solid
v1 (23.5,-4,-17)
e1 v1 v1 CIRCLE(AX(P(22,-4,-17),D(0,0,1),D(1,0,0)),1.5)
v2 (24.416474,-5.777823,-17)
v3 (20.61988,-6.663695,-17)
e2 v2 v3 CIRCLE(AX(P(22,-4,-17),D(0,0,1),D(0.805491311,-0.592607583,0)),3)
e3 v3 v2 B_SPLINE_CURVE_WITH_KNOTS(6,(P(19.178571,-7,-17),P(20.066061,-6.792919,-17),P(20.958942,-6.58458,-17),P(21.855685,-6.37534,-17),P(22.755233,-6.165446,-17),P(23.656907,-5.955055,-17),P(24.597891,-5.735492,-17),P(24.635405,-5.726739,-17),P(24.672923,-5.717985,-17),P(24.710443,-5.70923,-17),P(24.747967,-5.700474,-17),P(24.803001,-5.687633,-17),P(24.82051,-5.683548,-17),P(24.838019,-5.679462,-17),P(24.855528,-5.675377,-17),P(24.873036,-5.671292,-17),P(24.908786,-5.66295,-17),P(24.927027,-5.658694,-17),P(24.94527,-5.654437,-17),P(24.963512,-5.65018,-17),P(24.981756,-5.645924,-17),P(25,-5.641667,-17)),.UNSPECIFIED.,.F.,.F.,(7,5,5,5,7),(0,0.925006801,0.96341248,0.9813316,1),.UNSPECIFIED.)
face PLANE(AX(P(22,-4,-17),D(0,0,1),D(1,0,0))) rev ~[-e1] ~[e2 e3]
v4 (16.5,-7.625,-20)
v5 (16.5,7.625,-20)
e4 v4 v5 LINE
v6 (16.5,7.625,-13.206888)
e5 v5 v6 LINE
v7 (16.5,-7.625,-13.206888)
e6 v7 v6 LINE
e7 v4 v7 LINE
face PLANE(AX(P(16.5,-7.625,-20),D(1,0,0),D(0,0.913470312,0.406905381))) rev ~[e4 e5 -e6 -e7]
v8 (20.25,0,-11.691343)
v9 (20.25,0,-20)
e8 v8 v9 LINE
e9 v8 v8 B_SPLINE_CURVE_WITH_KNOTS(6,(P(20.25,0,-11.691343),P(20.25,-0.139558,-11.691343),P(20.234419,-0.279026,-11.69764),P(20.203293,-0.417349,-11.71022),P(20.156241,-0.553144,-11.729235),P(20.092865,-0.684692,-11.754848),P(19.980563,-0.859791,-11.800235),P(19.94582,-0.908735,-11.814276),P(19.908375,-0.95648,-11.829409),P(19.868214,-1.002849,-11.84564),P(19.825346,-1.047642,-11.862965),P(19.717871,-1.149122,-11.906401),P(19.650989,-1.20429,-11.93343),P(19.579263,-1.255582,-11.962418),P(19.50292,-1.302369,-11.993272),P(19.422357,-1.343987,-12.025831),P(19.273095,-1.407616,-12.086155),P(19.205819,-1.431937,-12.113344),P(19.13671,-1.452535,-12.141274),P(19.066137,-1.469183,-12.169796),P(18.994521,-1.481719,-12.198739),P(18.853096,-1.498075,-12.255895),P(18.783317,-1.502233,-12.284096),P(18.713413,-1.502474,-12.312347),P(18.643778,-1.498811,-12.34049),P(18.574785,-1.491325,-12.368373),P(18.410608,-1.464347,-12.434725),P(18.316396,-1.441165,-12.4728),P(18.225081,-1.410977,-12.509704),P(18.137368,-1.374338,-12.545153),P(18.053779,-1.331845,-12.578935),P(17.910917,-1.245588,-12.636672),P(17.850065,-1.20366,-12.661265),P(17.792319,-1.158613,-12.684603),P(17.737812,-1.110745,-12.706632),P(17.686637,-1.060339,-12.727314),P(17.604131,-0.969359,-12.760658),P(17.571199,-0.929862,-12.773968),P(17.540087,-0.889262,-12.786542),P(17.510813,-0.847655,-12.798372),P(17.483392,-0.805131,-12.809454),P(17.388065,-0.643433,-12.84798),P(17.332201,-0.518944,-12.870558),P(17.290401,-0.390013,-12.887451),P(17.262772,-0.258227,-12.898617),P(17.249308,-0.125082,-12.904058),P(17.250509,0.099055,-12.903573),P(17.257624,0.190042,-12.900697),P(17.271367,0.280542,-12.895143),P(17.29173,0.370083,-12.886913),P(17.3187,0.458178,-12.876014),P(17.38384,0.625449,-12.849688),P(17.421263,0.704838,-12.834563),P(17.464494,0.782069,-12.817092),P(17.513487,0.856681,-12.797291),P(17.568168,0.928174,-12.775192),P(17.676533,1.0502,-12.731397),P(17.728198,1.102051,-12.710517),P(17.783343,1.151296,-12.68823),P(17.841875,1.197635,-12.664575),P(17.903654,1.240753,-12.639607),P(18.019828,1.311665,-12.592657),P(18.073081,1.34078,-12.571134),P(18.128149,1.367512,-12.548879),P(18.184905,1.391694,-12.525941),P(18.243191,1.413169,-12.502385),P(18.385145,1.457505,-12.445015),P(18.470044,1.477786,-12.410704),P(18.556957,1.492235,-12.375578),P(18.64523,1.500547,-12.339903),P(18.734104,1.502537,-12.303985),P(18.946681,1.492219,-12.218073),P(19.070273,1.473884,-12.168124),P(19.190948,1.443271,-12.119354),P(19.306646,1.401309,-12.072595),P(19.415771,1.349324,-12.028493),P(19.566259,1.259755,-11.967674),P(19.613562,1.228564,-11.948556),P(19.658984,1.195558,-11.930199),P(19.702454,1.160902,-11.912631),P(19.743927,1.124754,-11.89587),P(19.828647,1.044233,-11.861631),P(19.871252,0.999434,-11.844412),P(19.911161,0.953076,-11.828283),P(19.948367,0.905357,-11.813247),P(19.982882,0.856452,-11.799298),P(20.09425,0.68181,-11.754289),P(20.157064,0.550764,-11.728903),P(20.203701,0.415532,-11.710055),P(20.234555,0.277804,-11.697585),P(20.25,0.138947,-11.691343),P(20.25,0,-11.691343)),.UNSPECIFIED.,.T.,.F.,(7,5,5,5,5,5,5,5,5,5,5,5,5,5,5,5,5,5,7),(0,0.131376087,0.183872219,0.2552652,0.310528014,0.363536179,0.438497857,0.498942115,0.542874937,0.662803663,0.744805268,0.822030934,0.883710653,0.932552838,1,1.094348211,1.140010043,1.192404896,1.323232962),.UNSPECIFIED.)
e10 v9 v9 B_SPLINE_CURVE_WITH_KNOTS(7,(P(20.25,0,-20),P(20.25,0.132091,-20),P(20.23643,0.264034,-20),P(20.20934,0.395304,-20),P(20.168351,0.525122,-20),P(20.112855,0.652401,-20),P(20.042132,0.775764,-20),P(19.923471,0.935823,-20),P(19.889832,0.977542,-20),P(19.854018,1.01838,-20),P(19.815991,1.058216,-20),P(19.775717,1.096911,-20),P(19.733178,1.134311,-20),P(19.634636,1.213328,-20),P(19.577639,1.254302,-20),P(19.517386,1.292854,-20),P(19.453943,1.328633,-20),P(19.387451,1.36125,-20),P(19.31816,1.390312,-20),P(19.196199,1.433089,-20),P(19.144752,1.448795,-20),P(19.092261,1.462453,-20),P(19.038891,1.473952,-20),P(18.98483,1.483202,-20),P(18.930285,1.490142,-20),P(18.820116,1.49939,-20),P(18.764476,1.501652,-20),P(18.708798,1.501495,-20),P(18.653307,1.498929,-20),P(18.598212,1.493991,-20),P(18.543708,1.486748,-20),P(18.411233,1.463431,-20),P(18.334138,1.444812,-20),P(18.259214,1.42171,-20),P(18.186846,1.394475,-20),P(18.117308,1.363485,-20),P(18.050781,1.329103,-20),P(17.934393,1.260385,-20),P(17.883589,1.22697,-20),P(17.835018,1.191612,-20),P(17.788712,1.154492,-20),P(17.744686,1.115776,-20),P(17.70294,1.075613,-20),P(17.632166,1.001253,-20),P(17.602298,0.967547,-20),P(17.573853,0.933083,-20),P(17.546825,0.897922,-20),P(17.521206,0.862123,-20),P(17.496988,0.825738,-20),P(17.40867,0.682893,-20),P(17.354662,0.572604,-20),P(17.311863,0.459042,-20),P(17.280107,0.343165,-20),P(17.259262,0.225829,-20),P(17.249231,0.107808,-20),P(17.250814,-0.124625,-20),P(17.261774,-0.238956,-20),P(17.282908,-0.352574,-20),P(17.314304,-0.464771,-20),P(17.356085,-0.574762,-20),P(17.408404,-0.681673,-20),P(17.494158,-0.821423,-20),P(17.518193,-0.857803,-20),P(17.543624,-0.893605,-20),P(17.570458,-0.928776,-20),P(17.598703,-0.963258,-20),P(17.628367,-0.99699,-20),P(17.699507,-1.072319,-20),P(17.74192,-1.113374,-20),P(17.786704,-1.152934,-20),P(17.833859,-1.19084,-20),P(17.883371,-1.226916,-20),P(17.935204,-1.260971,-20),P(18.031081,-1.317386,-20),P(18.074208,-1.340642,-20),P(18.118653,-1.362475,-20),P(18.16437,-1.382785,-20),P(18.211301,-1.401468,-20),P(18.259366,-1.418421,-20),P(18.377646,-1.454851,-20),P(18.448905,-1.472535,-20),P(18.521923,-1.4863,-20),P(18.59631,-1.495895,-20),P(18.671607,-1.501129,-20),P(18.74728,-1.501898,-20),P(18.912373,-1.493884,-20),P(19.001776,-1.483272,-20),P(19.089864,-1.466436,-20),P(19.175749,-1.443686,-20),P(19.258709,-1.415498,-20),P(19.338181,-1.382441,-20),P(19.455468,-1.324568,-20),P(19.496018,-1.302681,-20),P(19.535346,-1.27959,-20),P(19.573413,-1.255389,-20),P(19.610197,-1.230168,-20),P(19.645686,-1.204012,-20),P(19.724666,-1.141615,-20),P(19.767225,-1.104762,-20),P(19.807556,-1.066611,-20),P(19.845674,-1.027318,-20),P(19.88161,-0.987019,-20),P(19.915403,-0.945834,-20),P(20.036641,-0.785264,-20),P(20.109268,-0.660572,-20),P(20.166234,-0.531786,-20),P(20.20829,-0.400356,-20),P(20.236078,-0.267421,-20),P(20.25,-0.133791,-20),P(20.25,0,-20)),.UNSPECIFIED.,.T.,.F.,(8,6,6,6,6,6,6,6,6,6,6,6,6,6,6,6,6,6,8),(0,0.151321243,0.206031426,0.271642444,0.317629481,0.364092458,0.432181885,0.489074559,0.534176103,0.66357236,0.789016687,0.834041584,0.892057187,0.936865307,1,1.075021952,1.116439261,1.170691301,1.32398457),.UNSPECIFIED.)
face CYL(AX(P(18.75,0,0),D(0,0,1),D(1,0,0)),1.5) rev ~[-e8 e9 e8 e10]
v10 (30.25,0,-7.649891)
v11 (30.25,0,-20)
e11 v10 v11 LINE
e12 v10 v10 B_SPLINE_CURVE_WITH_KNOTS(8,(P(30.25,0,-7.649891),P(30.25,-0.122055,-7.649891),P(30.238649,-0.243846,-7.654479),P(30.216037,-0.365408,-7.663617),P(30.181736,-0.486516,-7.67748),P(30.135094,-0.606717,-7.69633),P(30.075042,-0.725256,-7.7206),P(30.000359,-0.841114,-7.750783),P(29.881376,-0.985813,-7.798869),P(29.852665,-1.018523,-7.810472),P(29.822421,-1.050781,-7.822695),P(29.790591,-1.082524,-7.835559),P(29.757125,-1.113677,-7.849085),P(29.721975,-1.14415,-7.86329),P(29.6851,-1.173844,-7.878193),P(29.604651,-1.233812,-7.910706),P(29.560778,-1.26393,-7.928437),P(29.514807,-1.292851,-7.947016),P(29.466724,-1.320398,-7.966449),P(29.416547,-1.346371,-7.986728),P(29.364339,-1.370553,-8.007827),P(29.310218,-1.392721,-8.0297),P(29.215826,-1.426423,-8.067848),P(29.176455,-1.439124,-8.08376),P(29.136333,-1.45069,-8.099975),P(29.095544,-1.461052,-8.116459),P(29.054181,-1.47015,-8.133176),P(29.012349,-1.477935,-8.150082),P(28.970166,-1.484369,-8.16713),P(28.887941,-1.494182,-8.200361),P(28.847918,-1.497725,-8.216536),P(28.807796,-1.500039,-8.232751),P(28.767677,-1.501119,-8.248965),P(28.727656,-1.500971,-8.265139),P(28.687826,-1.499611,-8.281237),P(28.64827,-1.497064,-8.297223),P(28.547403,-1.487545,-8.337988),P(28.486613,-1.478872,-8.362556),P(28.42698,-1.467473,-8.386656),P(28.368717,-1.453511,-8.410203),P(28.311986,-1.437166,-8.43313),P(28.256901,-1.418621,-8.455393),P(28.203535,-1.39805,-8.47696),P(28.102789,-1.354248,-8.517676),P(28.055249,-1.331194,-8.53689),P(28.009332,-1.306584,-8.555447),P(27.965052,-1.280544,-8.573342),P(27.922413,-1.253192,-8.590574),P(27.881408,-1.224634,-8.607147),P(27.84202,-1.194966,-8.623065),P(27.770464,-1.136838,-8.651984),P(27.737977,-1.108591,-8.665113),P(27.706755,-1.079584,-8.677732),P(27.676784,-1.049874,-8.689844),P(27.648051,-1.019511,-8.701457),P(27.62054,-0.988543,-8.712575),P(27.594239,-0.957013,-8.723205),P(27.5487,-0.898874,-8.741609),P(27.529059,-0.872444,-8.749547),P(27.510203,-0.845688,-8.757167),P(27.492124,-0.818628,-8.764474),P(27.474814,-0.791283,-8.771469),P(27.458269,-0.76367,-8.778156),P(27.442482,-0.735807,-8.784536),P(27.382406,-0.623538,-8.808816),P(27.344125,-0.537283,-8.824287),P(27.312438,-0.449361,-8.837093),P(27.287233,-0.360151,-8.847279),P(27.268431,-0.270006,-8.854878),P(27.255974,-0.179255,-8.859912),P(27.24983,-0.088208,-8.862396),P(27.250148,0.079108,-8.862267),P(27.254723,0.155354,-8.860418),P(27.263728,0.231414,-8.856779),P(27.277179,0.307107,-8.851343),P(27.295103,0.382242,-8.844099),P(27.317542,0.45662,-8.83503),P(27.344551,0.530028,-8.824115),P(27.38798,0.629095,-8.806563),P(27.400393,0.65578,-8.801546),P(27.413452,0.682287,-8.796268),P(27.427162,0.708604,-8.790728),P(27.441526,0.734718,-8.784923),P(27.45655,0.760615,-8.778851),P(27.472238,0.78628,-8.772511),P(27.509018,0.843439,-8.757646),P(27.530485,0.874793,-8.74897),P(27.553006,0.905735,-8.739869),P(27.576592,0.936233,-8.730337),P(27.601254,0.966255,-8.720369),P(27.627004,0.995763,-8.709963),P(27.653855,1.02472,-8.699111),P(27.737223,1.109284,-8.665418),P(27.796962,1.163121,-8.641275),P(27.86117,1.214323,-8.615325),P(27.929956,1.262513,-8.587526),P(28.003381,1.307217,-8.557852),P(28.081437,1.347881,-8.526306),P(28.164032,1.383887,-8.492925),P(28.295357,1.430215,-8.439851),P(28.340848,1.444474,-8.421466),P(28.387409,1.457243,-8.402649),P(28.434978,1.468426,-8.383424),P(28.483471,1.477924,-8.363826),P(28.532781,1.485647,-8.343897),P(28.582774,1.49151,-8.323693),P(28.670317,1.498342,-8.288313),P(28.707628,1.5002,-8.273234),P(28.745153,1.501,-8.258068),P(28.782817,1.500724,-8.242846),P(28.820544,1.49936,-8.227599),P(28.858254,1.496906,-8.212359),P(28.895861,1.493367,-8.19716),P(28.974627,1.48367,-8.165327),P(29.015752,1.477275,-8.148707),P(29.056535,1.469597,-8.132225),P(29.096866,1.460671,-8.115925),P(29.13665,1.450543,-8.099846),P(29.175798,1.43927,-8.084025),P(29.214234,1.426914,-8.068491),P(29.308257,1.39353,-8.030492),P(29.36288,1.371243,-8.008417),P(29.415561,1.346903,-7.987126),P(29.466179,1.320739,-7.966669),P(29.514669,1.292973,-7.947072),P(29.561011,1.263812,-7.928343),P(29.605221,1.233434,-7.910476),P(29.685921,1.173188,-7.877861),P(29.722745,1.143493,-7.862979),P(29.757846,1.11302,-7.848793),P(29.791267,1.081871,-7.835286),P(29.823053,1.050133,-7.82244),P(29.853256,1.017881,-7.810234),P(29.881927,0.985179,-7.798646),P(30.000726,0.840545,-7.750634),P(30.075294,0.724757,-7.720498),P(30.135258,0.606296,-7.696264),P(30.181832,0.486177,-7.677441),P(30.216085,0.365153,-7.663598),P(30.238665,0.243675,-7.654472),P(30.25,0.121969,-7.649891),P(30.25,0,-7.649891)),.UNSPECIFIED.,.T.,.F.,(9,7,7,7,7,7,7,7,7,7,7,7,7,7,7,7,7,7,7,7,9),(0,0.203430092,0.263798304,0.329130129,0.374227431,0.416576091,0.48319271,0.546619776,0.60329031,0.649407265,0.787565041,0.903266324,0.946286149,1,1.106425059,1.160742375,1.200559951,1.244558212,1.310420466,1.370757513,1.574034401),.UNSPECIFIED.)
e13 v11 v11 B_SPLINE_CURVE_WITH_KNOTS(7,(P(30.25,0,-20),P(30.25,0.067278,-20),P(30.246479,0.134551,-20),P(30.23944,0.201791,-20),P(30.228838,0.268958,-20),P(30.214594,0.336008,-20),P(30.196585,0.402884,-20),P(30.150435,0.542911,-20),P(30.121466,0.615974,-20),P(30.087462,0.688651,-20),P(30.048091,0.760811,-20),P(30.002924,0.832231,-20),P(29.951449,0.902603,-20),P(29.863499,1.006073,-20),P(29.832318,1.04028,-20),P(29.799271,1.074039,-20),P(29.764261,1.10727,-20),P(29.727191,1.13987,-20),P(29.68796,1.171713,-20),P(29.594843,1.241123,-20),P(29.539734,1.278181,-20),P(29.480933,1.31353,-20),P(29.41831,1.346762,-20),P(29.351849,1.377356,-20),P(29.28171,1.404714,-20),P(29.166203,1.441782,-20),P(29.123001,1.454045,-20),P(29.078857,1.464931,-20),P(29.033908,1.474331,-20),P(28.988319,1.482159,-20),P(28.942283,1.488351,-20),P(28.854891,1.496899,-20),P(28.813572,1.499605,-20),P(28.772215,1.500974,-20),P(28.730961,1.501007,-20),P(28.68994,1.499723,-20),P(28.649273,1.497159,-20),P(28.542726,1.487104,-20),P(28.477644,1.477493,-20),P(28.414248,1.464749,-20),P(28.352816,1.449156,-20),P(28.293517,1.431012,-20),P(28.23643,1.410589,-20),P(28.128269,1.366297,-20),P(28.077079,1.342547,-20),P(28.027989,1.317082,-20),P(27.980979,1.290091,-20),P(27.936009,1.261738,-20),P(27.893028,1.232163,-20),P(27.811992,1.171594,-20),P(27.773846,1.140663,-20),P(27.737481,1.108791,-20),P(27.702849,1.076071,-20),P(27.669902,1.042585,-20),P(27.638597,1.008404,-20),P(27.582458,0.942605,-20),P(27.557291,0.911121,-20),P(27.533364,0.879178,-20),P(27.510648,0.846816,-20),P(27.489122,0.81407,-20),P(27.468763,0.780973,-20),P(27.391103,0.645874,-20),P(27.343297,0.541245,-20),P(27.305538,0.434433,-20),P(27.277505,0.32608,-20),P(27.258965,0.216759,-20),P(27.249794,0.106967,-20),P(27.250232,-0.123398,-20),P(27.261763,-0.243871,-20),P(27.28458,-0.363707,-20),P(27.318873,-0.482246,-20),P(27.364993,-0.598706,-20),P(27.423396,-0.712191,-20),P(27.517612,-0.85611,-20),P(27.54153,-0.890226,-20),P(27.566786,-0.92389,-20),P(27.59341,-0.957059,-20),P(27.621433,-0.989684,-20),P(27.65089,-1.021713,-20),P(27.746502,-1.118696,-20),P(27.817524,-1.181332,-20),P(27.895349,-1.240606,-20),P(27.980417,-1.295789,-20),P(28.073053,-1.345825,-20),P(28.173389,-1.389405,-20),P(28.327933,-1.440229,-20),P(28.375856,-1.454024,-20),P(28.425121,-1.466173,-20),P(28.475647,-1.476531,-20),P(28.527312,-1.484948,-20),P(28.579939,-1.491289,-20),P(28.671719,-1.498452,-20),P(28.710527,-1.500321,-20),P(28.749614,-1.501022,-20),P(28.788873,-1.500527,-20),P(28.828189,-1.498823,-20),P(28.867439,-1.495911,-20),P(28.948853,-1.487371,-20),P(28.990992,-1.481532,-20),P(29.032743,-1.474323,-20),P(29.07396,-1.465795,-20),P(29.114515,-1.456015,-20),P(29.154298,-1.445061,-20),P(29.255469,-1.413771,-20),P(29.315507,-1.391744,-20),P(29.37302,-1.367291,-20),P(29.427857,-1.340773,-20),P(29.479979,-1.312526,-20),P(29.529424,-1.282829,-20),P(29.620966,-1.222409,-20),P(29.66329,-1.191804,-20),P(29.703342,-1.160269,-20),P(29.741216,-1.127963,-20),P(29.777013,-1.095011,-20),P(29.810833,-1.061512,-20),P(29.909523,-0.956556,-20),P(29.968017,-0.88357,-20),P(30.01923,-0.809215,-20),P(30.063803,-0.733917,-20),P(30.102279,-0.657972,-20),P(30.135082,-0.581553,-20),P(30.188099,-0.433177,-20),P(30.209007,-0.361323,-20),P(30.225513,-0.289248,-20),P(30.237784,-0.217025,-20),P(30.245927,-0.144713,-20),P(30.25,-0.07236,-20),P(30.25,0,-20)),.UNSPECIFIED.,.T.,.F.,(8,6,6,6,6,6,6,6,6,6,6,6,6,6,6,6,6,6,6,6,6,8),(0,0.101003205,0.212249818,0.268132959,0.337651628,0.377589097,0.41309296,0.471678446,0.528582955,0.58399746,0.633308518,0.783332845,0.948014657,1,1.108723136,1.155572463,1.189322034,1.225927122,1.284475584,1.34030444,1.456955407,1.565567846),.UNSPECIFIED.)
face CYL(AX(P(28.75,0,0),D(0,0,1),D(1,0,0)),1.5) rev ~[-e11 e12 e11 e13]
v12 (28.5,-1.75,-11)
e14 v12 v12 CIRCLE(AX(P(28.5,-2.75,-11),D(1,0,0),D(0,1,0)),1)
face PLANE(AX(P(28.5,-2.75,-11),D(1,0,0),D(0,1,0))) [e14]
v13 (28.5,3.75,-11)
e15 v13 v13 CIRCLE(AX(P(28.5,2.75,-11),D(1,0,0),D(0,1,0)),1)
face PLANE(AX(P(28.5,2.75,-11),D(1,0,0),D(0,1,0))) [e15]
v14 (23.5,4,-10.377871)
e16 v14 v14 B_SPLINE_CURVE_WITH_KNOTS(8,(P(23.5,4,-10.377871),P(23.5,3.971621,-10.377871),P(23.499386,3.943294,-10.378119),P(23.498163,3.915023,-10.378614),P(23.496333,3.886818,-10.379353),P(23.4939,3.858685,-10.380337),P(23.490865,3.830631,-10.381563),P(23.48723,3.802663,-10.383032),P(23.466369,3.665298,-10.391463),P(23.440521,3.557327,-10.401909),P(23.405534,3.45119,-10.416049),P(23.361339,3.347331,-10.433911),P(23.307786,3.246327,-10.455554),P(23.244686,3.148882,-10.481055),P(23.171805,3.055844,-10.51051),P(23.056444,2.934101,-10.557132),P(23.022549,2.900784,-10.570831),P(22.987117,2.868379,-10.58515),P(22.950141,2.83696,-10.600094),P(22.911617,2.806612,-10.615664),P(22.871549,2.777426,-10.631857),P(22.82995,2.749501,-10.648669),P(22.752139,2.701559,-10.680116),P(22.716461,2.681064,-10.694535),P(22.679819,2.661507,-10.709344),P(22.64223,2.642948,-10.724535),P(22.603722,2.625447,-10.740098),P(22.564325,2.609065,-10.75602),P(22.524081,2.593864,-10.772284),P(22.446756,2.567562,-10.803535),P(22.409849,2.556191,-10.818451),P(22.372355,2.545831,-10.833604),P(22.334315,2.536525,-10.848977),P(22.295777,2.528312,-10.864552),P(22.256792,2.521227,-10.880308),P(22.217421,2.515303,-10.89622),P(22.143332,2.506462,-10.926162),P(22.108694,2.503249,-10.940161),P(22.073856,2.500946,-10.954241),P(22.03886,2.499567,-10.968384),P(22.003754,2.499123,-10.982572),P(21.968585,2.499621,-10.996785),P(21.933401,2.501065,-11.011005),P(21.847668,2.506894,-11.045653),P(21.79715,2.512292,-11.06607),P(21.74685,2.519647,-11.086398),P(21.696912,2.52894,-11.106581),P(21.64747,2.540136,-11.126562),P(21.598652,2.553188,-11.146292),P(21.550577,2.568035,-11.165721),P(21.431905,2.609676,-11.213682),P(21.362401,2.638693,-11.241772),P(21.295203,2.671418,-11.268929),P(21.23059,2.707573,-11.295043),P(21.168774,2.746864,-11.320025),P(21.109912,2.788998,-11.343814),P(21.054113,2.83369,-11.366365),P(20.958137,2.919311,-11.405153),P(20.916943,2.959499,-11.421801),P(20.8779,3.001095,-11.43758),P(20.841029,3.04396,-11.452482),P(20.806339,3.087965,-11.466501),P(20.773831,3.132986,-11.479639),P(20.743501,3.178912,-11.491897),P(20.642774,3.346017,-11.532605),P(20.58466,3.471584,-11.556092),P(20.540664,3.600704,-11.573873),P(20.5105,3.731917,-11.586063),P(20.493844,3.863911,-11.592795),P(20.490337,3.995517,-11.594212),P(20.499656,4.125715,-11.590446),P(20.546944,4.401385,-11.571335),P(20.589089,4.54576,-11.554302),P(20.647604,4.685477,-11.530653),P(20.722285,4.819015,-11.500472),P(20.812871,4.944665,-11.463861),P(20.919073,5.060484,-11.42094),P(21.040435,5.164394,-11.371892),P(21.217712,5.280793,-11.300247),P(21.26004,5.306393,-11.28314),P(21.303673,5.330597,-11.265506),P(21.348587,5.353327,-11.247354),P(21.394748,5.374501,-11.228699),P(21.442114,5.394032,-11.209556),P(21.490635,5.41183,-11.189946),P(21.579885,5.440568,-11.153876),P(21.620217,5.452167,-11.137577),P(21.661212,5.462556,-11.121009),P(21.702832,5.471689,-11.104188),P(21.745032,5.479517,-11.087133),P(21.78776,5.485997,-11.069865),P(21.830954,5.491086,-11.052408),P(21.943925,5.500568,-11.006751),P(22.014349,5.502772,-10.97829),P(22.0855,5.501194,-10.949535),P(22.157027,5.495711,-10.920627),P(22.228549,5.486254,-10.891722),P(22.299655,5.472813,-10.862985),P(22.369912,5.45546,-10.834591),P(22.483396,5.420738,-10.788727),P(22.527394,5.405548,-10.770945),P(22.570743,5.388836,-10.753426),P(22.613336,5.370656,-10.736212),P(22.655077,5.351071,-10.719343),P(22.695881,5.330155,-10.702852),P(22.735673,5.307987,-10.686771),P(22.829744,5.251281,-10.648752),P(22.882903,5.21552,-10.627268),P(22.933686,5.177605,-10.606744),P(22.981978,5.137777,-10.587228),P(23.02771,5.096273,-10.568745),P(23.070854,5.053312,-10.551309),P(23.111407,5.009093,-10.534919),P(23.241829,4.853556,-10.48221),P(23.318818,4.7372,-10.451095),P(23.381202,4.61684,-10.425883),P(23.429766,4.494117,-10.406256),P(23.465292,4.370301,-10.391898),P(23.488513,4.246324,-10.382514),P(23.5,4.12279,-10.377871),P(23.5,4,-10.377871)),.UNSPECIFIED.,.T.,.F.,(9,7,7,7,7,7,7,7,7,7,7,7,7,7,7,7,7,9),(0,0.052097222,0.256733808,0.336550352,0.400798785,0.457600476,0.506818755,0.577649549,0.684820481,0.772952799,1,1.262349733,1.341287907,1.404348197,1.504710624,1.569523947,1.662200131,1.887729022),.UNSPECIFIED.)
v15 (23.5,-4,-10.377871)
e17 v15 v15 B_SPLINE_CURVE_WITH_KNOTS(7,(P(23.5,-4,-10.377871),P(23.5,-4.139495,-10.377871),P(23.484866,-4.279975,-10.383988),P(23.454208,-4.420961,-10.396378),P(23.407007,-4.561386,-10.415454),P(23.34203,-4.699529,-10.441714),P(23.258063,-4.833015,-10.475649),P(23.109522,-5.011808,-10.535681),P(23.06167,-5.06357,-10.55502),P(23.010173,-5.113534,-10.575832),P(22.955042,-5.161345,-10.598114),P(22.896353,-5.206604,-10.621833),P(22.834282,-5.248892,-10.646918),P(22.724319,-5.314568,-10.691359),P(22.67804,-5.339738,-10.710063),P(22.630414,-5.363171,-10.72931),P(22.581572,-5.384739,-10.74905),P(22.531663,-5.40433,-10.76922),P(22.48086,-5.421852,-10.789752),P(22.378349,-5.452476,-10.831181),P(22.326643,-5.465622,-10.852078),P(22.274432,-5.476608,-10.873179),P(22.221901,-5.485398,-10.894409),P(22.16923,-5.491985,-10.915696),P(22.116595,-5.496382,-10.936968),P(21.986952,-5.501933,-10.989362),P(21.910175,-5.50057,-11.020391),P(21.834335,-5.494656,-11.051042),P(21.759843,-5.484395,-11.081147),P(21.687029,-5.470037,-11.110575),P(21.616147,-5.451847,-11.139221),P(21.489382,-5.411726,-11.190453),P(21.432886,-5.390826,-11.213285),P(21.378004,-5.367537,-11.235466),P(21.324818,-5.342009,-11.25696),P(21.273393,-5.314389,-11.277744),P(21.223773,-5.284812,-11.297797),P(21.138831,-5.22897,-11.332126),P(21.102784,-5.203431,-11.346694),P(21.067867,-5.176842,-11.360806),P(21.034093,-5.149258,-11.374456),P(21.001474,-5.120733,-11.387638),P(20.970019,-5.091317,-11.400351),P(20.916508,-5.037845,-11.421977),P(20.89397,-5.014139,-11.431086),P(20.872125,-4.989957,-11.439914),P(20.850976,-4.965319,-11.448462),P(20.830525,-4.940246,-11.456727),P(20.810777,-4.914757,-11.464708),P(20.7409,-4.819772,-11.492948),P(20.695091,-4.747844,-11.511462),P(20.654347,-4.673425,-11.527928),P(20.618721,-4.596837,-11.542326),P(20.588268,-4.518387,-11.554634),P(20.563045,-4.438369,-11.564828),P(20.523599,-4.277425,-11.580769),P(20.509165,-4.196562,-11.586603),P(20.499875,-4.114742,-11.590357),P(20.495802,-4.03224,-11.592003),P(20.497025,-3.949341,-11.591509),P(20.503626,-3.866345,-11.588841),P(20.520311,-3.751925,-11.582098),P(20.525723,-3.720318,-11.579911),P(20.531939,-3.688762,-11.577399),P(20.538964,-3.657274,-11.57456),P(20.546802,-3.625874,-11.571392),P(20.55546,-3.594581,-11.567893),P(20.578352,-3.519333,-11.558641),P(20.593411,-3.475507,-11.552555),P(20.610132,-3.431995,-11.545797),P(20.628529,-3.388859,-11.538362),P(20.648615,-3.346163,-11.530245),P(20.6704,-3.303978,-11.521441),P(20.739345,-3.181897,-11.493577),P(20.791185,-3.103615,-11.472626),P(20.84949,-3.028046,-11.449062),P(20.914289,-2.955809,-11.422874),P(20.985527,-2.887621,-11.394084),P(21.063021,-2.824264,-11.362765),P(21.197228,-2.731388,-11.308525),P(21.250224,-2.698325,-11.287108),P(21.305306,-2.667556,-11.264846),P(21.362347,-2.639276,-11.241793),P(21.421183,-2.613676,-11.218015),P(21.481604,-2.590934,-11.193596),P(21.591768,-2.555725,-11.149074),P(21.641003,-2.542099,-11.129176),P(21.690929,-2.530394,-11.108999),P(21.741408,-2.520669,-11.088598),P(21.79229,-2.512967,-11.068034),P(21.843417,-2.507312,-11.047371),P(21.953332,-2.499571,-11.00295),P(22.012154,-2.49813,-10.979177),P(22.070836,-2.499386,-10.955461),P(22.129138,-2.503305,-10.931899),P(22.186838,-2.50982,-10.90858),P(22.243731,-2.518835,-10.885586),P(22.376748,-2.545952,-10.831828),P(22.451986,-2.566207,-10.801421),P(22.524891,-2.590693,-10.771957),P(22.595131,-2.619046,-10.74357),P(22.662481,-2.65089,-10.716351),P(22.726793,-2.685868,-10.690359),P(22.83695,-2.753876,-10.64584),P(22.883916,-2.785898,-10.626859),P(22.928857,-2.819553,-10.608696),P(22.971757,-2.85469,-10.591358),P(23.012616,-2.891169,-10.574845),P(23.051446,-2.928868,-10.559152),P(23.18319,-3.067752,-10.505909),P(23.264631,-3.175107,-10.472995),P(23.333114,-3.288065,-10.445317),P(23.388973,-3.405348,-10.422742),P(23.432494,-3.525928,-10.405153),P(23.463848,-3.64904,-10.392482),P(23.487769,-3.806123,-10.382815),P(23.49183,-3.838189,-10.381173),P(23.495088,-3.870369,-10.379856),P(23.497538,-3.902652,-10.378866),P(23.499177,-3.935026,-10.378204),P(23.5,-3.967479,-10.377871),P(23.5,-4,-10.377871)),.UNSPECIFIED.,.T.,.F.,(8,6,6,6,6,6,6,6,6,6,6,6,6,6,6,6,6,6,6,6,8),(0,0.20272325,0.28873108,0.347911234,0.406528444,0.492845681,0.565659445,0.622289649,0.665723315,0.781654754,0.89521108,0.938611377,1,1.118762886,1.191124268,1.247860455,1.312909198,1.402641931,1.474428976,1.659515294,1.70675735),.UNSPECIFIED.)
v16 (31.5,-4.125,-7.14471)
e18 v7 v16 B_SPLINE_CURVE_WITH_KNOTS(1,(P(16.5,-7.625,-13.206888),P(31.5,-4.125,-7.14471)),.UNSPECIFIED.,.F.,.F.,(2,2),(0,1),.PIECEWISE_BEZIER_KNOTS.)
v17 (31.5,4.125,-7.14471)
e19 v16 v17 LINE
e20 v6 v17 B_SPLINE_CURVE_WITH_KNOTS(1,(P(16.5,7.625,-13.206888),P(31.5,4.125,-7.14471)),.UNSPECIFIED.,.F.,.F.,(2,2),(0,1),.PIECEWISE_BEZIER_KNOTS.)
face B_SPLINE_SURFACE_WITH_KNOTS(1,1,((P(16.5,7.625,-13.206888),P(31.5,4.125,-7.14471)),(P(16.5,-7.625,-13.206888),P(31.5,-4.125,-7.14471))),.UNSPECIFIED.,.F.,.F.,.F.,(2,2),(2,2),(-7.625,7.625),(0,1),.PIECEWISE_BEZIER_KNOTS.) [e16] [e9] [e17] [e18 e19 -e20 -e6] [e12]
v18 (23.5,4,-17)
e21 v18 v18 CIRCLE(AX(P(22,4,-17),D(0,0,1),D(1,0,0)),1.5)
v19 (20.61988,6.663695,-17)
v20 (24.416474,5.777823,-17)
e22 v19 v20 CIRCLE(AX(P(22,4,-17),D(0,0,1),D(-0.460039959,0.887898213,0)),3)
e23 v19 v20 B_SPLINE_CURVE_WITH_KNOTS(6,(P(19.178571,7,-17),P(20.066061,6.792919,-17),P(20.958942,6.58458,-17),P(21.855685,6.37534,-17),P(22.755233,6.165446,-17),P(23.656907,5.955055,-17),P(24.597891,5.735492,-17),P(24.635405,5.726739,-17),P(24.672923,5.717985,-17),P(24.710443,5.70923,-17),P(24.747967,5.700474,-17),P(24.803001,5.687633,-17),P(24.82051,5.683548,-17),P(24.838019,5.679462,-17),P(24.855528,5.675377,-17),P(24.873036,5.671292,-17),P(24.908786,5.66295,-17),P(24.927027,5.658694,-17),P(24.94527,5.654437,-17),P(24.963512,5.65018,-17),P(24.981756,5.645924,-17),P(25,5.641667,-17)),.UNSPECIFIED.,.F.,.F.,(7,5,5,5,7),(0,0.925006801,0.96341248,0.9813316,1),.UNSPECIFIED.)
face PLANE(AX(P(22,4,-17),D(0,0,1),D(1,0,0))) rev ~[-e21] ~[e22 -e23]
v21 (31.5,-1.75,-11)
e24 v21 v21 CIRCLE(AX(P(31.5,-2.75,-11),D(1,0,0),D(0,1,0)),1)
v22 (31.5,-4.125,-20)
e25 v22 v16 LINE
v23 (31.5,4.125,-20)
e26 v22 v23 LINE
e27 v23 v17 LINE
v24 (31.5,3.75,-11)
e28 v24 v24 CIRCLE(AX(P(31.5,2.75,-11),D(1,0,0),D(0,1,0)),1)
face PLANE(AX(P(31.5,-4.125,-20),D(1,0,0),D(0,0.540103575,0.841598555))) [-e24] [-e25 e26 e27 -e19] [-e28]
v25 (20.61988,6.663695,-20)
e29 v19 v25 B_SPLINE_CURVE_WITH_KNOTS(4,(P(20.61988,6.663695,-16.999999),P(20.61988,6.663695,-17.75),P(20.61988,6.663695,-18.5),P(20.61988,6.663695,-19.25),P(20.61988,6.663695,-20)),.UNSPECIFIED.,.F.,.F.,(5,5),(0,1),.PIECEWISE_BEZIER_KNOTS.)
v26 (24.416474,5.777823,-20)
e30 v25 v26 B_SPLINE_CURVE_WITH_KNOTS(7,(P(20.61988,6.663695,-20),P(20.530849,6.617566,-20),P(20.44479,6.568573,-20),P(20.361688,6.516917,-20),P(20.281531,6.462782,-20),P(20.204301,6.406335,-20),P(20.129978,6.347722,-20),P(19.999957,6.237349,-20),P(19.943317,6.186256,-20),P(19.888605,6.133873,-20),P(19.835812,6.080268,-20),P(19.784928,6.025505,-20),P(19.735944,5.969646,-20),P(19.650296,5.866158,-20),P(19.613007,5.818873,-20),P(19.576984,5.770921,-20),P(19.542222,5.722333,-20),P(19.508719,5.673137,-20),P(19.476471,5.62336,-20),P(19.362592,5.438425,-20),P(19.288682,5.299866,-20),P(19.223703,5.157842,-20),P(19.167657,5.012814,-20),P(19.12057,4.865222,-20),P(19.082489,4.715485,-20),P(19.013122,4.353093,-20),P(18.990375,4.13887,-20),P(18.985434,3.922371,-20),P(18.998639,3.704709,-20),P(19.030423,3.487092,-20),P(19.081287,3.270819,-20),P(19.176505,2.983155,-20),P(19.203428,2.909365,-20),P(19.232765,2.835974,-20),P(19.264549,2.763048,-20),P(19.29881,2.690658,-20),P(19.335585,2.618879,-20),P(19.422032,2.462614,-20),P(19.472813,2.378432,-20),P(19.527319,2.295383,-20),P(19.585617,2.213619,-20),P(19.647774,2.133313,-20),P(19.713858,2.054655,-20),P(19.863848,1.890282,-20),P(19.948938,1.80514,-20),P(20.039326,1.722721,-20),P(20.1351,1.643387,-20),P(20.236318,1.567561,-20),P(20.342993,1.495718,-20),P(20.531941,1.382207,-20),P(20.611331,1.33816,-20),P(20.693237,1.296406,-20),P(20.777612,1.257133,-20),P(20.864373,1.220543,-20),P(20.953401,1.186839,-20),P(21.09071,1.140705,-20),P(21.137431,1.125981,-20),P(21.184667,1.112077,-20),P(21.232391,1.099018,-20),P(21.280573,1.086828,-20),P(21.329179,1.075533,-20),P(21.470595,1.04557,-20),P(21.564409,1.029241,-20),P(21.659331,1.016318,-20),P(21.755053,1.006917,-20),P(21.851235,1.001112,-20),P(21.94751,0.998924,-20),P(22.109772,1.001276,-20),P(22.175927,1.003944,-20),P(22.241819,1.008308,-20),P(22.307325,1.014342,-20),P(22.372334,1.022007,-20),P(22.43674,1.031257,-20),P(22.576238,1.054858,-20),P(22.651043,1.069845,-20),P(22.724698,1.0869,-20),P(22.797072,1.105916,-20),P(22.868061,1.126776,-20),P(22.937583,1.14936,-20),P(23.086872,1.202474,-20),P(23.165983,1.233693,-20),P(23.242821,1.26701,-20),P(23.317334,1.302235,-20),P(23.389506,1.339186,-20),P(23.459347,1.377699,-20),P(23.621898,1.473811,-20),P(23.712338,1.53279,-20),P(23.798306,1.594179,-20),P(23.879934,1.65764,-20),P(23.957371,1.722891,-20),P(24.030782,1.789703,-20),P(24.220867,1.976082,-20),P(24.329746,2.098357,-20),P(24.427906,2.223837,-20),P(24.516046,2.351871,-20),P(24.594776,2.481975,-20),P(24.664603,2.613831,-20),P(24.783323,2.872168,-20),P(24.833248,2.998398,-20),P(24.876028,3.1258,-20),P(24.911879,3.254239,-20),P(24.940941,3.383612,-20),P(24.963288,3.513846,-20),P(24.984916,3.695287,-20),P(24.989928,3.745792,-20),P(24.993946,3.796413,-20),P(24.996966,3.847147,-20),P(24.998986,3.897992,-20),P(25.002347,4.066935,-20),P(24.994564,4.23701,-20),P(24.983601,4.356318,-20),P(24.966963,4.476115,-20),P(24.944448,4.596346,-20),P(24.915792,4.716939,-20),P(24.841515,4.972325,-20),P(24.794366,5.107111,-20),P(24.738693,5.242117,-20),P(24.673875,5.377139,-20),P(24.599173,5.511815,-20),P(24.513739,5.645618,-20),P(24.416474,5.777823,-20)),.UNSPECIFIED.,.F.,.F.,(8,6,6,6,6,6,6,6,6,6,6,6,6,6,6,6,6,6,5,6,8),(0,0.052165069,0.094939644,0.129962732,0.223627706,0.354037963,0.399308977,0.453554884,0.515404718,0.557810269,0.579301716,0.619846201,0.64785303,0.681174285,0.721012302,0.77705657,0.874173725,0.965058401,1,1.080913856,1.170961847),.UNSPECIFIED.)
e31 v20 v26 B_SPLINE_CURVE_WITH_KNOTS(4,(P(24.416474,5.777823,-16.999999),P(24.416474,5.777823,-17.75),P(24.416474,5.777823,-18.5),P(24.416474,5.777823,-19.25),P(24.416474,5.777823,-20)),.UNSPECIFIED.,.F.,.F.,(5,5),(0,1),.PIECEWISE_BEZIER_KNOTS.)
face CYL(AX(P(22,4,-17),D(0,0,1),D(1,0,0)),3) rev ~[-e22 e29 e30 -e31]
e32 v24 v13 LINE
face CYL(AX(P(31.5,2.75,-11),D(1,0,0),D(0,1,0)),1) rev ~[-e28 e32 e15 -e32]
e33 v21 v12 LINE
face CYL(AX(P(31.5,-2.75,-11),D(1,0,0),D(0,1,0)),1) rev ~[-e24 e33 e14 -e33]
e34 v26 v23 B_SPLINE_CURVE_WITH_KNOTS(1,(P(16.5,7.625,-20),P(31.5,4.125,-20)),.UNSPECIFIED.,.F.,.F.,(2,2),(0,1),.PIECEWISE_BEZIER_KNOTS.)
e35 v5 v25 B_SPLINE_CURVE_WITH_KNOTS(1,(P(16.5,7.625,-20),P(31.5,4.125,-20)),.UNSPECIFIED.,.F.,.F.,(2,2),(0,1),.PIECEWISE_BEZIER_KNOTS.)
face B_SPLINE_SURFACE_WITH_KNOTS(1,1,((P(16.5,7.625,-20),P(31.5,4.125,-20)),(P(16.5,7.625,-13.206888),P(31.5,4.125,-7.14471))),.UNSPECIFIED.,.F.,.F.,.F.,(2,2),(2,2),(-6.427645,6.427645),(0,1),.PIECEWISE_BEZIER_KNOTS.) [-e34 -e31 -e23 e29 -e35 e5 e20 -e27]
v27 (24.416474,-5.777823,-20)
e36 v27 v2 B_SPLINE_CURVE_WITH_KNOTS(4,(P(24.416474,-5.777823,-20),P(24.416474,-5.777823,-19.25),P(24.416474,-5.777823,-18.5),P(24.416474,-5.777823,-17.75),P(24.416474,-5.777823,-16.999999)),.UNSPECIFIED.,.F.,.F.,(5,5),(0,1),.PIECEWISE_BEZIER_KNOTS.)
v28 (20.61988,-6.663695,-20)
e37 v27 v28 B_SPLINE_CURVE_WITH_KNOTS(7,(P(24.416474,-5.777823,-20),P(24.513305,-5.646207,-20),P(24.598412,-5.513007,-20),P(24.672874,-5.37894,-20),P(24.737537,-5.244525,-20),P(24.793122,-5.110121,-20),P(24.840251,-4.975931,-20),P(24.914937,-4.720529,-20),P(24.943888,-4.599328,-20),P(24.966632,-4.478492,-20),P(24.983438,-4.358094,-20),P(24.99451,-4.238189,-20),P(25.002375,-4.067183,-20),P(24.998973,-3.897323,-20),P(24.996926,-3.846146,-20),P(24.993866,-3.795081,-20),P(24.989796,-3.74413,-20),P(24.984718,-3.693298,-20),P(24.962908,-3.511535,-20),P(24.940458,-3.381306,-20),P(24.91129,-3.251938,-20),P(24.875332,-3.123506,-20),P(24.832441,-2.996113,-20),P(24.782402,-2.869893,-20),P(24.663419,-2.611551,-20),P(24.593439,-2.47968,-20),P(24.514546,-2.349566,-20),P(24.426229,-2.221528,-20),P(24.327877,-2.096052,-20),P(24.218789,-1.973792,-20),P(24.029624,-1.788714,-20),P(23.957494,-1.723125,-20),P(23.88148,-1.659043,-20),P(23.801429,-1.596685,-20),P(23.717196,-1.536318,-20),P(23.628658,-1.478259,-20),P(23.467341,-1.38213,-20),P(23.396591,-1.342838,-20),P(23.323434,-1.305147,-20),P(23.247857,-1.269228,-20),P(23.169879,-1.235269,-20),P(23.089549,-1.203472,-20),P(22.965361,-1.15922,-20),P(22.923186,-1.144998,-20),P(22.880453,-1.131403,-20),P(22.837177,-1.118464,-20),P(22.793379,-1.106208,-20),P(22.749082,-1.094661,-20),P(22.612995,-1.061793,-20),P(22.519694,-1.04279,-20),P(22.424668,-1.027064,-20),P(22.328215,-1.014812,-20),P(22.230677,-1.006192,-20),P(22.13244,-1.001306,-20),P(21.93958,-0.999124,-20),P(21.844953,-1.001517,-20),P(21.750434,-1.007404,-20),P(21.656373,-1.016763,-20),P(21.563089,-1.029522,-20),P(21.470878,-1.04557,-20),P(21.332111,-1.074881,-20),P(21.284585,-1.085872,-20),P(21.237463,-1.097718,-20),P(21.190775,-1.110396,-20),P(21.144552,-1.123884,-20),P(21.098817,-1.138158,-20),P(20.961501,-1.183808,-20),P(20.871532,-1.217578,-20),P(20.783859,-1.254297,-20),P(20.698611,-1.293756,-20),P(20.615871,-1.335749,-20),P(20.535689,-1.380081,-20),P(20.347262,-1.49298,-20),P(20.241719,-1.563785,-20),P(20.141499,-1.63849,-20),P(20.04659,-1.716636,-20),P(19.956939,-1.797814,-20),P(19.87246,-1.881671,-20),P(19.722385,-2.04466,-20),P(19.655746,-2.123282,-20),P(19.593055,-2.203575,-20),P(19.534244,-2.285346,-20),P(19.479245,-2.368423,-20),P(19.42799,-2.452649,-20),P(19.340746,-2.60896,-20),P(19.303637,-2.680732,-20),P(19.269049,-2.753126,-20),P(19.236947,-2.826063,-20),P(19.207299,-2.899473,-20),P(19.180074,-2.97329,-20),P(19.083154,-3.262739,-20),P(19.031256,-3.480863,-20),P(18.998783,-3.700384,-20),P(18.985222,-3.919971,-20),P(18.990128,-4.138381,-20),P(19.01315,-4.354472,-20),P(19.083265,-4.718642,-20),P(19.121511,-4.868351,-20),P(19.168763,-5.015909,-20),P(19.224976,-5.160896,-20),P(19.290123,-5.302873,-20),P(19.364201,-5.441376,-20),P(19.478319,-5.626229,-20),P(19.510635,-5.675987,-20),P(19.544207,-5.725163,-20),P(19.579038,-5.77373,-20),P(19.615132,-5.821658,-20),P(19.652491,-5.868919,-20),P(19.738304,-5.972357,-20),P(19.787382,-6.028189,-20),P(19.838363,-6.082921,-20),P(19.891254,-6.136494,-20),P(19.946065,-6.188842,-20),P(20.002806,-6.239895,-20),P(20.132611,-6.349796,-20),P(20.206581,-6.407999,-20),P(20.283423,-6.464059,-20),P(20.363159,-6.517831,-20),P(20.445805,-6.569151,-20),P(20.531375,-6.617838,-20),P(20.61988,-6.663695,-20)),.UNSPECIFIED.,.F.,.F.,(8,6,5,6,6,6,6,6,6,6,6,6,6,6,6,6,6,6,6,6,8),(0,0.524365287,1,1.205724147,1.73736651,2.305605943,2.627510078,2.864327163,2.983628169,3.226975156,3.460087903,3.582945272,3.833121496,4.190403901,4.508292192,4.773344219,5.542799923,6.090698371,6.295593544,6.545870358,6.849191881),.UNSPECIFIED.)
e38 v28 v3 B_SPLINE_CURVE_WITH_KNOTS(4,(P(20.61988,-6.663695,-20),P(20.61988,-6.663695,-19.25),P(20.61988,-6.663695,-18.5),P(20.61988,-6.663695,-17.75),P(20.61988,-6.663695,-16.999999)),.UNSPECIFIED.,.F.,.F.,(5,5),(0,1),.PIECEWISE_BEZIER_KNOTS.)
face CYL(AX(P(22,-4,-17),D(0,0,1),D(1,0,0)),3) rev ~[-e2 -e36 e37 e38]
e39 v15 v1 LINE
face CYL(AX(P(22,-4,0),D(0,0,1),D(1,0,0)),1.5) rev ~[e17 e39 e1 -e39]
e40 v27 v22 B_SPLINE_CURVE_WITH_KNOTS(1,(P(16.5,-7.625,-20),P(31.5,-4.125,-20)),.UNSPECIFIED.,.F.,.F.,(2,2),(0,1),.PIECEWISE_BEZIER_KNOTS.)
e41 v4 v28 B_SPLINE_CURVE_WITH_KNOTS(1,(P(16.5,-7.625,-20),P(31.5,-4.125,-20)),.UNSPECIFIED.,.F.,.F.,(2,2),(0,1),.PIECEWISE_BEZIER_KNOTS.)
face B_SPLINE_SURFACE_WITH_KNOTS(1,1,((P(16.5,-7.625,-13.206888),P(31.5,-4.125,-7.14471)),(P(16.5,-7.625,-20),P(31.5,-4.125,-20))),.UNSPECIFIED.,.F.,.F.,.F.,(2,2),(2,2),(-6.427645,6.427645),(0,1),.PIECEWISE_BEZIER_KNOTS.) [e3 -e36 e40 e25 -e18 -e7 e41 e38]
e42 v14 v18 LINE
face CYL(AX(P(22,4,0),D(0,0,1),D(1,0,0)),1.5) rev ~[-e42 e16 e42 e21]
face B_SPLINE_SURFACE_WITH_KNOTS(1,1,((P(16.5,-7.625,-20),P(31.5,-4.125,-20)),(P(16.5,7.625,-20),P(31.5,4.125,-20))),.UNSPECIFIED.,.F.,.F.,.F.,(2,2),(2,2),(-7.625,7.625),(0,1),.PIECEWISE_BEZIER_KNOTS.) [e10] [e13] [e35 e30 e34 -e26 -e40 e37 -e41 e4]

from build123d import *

# Parameters (mm, degrees)
SKETCH065_R  = 1
PAD047_DEPTH = 3
SKETCH056_R  = 3
PAD039_DEPTH = 10
SKETCH055_R  = 1.5
PAD038_DEPTH = 100
SKETCH057_R  = 1.5
PAD040_DEPTH = 100
SKETCH053_W  = 15.25
SKETCH053_H  = 6.793113
SKETCH054_W  = 8.25
SKETCH054_H  = 12.85529


with BuildPart() as pad047:
    # Sketch065 → Pad047 (new body)
    with BuildSketch(Plane.YZ.offset(31.5)):
        with Locations((2.75, -11)):
            Circle(SKETCH065_R)
        with Locations((-2.75, -11)):
            Circle(SKETCH065_R)
    extrude(amount=-PAD047_DEPTH)


with BuildPart() as mountingblockscrewcountersink:
    # Sketch056 → Pad039 (new body)
    with BuildSketch(Plane.XY.offset(-17)):
        with Locations((22, 4)):
            Circle(SKETCH056_R)
        with Locations((22, -4)):
            Circle(SKETCH056_R)
    extrude(amount=-PAD039_DEPTH)


with BuildPart() as mountingblockscrewcutout:
    # Sketch055 → Pad038 (new body)
    with BuildSketch(Plane.XY):
        with Locations((22, 4)):
            Circle(SKETCH055_R)
        with Locations((22, -4)):
            Circle(SKETCH055_R)
    extrude(amount=-PAD038_DEPTH)


with BuildPart() as cutouts:
    # Sketch057 → Pad040 (new body)
    with BuildSketch(Plane.XY):
        with Locations((28.75, 0)):
            Circle(SKETCH057_R)
        with Locations((18.75, 0)):
            Circle(SKETCH057_R)
    extrude(amount=-PAD040_DEPTH)

    # Fusion004011: union MountingBlockScrewCountersink, MountingBlockScrewCutout
    add(mountingblockscrewcountersink.part)
    add(mountingblockscrewcutout.part)


with BuildPart() as mountingblockpad:
    # Sketch053 → Loft003 section 0
    with BuildSketch(Plane.YZ.offset(16.5)):
        with Locations((0, -16.603444)):
            Rectangle(SKETCH053_W, SKETCH053_H)
    # Sketch054 → Loft003 section 1
    with BuildSketch(Plane.YZ.offset(31.5)):
        with Locations((0, -13.572355)):
            Rectangle(SKETCH054_W, SKETCH054_H)
    loft(ruled=True)

    # Cut007011: cut Cutouts
    add(cutouts.part, mode=Mode.SUBTRACT)

    # Cut007016: cut Pad047
    add(pad047.part, mode=Mode.SUBTRACT)


solid = mountingblockpad.part
